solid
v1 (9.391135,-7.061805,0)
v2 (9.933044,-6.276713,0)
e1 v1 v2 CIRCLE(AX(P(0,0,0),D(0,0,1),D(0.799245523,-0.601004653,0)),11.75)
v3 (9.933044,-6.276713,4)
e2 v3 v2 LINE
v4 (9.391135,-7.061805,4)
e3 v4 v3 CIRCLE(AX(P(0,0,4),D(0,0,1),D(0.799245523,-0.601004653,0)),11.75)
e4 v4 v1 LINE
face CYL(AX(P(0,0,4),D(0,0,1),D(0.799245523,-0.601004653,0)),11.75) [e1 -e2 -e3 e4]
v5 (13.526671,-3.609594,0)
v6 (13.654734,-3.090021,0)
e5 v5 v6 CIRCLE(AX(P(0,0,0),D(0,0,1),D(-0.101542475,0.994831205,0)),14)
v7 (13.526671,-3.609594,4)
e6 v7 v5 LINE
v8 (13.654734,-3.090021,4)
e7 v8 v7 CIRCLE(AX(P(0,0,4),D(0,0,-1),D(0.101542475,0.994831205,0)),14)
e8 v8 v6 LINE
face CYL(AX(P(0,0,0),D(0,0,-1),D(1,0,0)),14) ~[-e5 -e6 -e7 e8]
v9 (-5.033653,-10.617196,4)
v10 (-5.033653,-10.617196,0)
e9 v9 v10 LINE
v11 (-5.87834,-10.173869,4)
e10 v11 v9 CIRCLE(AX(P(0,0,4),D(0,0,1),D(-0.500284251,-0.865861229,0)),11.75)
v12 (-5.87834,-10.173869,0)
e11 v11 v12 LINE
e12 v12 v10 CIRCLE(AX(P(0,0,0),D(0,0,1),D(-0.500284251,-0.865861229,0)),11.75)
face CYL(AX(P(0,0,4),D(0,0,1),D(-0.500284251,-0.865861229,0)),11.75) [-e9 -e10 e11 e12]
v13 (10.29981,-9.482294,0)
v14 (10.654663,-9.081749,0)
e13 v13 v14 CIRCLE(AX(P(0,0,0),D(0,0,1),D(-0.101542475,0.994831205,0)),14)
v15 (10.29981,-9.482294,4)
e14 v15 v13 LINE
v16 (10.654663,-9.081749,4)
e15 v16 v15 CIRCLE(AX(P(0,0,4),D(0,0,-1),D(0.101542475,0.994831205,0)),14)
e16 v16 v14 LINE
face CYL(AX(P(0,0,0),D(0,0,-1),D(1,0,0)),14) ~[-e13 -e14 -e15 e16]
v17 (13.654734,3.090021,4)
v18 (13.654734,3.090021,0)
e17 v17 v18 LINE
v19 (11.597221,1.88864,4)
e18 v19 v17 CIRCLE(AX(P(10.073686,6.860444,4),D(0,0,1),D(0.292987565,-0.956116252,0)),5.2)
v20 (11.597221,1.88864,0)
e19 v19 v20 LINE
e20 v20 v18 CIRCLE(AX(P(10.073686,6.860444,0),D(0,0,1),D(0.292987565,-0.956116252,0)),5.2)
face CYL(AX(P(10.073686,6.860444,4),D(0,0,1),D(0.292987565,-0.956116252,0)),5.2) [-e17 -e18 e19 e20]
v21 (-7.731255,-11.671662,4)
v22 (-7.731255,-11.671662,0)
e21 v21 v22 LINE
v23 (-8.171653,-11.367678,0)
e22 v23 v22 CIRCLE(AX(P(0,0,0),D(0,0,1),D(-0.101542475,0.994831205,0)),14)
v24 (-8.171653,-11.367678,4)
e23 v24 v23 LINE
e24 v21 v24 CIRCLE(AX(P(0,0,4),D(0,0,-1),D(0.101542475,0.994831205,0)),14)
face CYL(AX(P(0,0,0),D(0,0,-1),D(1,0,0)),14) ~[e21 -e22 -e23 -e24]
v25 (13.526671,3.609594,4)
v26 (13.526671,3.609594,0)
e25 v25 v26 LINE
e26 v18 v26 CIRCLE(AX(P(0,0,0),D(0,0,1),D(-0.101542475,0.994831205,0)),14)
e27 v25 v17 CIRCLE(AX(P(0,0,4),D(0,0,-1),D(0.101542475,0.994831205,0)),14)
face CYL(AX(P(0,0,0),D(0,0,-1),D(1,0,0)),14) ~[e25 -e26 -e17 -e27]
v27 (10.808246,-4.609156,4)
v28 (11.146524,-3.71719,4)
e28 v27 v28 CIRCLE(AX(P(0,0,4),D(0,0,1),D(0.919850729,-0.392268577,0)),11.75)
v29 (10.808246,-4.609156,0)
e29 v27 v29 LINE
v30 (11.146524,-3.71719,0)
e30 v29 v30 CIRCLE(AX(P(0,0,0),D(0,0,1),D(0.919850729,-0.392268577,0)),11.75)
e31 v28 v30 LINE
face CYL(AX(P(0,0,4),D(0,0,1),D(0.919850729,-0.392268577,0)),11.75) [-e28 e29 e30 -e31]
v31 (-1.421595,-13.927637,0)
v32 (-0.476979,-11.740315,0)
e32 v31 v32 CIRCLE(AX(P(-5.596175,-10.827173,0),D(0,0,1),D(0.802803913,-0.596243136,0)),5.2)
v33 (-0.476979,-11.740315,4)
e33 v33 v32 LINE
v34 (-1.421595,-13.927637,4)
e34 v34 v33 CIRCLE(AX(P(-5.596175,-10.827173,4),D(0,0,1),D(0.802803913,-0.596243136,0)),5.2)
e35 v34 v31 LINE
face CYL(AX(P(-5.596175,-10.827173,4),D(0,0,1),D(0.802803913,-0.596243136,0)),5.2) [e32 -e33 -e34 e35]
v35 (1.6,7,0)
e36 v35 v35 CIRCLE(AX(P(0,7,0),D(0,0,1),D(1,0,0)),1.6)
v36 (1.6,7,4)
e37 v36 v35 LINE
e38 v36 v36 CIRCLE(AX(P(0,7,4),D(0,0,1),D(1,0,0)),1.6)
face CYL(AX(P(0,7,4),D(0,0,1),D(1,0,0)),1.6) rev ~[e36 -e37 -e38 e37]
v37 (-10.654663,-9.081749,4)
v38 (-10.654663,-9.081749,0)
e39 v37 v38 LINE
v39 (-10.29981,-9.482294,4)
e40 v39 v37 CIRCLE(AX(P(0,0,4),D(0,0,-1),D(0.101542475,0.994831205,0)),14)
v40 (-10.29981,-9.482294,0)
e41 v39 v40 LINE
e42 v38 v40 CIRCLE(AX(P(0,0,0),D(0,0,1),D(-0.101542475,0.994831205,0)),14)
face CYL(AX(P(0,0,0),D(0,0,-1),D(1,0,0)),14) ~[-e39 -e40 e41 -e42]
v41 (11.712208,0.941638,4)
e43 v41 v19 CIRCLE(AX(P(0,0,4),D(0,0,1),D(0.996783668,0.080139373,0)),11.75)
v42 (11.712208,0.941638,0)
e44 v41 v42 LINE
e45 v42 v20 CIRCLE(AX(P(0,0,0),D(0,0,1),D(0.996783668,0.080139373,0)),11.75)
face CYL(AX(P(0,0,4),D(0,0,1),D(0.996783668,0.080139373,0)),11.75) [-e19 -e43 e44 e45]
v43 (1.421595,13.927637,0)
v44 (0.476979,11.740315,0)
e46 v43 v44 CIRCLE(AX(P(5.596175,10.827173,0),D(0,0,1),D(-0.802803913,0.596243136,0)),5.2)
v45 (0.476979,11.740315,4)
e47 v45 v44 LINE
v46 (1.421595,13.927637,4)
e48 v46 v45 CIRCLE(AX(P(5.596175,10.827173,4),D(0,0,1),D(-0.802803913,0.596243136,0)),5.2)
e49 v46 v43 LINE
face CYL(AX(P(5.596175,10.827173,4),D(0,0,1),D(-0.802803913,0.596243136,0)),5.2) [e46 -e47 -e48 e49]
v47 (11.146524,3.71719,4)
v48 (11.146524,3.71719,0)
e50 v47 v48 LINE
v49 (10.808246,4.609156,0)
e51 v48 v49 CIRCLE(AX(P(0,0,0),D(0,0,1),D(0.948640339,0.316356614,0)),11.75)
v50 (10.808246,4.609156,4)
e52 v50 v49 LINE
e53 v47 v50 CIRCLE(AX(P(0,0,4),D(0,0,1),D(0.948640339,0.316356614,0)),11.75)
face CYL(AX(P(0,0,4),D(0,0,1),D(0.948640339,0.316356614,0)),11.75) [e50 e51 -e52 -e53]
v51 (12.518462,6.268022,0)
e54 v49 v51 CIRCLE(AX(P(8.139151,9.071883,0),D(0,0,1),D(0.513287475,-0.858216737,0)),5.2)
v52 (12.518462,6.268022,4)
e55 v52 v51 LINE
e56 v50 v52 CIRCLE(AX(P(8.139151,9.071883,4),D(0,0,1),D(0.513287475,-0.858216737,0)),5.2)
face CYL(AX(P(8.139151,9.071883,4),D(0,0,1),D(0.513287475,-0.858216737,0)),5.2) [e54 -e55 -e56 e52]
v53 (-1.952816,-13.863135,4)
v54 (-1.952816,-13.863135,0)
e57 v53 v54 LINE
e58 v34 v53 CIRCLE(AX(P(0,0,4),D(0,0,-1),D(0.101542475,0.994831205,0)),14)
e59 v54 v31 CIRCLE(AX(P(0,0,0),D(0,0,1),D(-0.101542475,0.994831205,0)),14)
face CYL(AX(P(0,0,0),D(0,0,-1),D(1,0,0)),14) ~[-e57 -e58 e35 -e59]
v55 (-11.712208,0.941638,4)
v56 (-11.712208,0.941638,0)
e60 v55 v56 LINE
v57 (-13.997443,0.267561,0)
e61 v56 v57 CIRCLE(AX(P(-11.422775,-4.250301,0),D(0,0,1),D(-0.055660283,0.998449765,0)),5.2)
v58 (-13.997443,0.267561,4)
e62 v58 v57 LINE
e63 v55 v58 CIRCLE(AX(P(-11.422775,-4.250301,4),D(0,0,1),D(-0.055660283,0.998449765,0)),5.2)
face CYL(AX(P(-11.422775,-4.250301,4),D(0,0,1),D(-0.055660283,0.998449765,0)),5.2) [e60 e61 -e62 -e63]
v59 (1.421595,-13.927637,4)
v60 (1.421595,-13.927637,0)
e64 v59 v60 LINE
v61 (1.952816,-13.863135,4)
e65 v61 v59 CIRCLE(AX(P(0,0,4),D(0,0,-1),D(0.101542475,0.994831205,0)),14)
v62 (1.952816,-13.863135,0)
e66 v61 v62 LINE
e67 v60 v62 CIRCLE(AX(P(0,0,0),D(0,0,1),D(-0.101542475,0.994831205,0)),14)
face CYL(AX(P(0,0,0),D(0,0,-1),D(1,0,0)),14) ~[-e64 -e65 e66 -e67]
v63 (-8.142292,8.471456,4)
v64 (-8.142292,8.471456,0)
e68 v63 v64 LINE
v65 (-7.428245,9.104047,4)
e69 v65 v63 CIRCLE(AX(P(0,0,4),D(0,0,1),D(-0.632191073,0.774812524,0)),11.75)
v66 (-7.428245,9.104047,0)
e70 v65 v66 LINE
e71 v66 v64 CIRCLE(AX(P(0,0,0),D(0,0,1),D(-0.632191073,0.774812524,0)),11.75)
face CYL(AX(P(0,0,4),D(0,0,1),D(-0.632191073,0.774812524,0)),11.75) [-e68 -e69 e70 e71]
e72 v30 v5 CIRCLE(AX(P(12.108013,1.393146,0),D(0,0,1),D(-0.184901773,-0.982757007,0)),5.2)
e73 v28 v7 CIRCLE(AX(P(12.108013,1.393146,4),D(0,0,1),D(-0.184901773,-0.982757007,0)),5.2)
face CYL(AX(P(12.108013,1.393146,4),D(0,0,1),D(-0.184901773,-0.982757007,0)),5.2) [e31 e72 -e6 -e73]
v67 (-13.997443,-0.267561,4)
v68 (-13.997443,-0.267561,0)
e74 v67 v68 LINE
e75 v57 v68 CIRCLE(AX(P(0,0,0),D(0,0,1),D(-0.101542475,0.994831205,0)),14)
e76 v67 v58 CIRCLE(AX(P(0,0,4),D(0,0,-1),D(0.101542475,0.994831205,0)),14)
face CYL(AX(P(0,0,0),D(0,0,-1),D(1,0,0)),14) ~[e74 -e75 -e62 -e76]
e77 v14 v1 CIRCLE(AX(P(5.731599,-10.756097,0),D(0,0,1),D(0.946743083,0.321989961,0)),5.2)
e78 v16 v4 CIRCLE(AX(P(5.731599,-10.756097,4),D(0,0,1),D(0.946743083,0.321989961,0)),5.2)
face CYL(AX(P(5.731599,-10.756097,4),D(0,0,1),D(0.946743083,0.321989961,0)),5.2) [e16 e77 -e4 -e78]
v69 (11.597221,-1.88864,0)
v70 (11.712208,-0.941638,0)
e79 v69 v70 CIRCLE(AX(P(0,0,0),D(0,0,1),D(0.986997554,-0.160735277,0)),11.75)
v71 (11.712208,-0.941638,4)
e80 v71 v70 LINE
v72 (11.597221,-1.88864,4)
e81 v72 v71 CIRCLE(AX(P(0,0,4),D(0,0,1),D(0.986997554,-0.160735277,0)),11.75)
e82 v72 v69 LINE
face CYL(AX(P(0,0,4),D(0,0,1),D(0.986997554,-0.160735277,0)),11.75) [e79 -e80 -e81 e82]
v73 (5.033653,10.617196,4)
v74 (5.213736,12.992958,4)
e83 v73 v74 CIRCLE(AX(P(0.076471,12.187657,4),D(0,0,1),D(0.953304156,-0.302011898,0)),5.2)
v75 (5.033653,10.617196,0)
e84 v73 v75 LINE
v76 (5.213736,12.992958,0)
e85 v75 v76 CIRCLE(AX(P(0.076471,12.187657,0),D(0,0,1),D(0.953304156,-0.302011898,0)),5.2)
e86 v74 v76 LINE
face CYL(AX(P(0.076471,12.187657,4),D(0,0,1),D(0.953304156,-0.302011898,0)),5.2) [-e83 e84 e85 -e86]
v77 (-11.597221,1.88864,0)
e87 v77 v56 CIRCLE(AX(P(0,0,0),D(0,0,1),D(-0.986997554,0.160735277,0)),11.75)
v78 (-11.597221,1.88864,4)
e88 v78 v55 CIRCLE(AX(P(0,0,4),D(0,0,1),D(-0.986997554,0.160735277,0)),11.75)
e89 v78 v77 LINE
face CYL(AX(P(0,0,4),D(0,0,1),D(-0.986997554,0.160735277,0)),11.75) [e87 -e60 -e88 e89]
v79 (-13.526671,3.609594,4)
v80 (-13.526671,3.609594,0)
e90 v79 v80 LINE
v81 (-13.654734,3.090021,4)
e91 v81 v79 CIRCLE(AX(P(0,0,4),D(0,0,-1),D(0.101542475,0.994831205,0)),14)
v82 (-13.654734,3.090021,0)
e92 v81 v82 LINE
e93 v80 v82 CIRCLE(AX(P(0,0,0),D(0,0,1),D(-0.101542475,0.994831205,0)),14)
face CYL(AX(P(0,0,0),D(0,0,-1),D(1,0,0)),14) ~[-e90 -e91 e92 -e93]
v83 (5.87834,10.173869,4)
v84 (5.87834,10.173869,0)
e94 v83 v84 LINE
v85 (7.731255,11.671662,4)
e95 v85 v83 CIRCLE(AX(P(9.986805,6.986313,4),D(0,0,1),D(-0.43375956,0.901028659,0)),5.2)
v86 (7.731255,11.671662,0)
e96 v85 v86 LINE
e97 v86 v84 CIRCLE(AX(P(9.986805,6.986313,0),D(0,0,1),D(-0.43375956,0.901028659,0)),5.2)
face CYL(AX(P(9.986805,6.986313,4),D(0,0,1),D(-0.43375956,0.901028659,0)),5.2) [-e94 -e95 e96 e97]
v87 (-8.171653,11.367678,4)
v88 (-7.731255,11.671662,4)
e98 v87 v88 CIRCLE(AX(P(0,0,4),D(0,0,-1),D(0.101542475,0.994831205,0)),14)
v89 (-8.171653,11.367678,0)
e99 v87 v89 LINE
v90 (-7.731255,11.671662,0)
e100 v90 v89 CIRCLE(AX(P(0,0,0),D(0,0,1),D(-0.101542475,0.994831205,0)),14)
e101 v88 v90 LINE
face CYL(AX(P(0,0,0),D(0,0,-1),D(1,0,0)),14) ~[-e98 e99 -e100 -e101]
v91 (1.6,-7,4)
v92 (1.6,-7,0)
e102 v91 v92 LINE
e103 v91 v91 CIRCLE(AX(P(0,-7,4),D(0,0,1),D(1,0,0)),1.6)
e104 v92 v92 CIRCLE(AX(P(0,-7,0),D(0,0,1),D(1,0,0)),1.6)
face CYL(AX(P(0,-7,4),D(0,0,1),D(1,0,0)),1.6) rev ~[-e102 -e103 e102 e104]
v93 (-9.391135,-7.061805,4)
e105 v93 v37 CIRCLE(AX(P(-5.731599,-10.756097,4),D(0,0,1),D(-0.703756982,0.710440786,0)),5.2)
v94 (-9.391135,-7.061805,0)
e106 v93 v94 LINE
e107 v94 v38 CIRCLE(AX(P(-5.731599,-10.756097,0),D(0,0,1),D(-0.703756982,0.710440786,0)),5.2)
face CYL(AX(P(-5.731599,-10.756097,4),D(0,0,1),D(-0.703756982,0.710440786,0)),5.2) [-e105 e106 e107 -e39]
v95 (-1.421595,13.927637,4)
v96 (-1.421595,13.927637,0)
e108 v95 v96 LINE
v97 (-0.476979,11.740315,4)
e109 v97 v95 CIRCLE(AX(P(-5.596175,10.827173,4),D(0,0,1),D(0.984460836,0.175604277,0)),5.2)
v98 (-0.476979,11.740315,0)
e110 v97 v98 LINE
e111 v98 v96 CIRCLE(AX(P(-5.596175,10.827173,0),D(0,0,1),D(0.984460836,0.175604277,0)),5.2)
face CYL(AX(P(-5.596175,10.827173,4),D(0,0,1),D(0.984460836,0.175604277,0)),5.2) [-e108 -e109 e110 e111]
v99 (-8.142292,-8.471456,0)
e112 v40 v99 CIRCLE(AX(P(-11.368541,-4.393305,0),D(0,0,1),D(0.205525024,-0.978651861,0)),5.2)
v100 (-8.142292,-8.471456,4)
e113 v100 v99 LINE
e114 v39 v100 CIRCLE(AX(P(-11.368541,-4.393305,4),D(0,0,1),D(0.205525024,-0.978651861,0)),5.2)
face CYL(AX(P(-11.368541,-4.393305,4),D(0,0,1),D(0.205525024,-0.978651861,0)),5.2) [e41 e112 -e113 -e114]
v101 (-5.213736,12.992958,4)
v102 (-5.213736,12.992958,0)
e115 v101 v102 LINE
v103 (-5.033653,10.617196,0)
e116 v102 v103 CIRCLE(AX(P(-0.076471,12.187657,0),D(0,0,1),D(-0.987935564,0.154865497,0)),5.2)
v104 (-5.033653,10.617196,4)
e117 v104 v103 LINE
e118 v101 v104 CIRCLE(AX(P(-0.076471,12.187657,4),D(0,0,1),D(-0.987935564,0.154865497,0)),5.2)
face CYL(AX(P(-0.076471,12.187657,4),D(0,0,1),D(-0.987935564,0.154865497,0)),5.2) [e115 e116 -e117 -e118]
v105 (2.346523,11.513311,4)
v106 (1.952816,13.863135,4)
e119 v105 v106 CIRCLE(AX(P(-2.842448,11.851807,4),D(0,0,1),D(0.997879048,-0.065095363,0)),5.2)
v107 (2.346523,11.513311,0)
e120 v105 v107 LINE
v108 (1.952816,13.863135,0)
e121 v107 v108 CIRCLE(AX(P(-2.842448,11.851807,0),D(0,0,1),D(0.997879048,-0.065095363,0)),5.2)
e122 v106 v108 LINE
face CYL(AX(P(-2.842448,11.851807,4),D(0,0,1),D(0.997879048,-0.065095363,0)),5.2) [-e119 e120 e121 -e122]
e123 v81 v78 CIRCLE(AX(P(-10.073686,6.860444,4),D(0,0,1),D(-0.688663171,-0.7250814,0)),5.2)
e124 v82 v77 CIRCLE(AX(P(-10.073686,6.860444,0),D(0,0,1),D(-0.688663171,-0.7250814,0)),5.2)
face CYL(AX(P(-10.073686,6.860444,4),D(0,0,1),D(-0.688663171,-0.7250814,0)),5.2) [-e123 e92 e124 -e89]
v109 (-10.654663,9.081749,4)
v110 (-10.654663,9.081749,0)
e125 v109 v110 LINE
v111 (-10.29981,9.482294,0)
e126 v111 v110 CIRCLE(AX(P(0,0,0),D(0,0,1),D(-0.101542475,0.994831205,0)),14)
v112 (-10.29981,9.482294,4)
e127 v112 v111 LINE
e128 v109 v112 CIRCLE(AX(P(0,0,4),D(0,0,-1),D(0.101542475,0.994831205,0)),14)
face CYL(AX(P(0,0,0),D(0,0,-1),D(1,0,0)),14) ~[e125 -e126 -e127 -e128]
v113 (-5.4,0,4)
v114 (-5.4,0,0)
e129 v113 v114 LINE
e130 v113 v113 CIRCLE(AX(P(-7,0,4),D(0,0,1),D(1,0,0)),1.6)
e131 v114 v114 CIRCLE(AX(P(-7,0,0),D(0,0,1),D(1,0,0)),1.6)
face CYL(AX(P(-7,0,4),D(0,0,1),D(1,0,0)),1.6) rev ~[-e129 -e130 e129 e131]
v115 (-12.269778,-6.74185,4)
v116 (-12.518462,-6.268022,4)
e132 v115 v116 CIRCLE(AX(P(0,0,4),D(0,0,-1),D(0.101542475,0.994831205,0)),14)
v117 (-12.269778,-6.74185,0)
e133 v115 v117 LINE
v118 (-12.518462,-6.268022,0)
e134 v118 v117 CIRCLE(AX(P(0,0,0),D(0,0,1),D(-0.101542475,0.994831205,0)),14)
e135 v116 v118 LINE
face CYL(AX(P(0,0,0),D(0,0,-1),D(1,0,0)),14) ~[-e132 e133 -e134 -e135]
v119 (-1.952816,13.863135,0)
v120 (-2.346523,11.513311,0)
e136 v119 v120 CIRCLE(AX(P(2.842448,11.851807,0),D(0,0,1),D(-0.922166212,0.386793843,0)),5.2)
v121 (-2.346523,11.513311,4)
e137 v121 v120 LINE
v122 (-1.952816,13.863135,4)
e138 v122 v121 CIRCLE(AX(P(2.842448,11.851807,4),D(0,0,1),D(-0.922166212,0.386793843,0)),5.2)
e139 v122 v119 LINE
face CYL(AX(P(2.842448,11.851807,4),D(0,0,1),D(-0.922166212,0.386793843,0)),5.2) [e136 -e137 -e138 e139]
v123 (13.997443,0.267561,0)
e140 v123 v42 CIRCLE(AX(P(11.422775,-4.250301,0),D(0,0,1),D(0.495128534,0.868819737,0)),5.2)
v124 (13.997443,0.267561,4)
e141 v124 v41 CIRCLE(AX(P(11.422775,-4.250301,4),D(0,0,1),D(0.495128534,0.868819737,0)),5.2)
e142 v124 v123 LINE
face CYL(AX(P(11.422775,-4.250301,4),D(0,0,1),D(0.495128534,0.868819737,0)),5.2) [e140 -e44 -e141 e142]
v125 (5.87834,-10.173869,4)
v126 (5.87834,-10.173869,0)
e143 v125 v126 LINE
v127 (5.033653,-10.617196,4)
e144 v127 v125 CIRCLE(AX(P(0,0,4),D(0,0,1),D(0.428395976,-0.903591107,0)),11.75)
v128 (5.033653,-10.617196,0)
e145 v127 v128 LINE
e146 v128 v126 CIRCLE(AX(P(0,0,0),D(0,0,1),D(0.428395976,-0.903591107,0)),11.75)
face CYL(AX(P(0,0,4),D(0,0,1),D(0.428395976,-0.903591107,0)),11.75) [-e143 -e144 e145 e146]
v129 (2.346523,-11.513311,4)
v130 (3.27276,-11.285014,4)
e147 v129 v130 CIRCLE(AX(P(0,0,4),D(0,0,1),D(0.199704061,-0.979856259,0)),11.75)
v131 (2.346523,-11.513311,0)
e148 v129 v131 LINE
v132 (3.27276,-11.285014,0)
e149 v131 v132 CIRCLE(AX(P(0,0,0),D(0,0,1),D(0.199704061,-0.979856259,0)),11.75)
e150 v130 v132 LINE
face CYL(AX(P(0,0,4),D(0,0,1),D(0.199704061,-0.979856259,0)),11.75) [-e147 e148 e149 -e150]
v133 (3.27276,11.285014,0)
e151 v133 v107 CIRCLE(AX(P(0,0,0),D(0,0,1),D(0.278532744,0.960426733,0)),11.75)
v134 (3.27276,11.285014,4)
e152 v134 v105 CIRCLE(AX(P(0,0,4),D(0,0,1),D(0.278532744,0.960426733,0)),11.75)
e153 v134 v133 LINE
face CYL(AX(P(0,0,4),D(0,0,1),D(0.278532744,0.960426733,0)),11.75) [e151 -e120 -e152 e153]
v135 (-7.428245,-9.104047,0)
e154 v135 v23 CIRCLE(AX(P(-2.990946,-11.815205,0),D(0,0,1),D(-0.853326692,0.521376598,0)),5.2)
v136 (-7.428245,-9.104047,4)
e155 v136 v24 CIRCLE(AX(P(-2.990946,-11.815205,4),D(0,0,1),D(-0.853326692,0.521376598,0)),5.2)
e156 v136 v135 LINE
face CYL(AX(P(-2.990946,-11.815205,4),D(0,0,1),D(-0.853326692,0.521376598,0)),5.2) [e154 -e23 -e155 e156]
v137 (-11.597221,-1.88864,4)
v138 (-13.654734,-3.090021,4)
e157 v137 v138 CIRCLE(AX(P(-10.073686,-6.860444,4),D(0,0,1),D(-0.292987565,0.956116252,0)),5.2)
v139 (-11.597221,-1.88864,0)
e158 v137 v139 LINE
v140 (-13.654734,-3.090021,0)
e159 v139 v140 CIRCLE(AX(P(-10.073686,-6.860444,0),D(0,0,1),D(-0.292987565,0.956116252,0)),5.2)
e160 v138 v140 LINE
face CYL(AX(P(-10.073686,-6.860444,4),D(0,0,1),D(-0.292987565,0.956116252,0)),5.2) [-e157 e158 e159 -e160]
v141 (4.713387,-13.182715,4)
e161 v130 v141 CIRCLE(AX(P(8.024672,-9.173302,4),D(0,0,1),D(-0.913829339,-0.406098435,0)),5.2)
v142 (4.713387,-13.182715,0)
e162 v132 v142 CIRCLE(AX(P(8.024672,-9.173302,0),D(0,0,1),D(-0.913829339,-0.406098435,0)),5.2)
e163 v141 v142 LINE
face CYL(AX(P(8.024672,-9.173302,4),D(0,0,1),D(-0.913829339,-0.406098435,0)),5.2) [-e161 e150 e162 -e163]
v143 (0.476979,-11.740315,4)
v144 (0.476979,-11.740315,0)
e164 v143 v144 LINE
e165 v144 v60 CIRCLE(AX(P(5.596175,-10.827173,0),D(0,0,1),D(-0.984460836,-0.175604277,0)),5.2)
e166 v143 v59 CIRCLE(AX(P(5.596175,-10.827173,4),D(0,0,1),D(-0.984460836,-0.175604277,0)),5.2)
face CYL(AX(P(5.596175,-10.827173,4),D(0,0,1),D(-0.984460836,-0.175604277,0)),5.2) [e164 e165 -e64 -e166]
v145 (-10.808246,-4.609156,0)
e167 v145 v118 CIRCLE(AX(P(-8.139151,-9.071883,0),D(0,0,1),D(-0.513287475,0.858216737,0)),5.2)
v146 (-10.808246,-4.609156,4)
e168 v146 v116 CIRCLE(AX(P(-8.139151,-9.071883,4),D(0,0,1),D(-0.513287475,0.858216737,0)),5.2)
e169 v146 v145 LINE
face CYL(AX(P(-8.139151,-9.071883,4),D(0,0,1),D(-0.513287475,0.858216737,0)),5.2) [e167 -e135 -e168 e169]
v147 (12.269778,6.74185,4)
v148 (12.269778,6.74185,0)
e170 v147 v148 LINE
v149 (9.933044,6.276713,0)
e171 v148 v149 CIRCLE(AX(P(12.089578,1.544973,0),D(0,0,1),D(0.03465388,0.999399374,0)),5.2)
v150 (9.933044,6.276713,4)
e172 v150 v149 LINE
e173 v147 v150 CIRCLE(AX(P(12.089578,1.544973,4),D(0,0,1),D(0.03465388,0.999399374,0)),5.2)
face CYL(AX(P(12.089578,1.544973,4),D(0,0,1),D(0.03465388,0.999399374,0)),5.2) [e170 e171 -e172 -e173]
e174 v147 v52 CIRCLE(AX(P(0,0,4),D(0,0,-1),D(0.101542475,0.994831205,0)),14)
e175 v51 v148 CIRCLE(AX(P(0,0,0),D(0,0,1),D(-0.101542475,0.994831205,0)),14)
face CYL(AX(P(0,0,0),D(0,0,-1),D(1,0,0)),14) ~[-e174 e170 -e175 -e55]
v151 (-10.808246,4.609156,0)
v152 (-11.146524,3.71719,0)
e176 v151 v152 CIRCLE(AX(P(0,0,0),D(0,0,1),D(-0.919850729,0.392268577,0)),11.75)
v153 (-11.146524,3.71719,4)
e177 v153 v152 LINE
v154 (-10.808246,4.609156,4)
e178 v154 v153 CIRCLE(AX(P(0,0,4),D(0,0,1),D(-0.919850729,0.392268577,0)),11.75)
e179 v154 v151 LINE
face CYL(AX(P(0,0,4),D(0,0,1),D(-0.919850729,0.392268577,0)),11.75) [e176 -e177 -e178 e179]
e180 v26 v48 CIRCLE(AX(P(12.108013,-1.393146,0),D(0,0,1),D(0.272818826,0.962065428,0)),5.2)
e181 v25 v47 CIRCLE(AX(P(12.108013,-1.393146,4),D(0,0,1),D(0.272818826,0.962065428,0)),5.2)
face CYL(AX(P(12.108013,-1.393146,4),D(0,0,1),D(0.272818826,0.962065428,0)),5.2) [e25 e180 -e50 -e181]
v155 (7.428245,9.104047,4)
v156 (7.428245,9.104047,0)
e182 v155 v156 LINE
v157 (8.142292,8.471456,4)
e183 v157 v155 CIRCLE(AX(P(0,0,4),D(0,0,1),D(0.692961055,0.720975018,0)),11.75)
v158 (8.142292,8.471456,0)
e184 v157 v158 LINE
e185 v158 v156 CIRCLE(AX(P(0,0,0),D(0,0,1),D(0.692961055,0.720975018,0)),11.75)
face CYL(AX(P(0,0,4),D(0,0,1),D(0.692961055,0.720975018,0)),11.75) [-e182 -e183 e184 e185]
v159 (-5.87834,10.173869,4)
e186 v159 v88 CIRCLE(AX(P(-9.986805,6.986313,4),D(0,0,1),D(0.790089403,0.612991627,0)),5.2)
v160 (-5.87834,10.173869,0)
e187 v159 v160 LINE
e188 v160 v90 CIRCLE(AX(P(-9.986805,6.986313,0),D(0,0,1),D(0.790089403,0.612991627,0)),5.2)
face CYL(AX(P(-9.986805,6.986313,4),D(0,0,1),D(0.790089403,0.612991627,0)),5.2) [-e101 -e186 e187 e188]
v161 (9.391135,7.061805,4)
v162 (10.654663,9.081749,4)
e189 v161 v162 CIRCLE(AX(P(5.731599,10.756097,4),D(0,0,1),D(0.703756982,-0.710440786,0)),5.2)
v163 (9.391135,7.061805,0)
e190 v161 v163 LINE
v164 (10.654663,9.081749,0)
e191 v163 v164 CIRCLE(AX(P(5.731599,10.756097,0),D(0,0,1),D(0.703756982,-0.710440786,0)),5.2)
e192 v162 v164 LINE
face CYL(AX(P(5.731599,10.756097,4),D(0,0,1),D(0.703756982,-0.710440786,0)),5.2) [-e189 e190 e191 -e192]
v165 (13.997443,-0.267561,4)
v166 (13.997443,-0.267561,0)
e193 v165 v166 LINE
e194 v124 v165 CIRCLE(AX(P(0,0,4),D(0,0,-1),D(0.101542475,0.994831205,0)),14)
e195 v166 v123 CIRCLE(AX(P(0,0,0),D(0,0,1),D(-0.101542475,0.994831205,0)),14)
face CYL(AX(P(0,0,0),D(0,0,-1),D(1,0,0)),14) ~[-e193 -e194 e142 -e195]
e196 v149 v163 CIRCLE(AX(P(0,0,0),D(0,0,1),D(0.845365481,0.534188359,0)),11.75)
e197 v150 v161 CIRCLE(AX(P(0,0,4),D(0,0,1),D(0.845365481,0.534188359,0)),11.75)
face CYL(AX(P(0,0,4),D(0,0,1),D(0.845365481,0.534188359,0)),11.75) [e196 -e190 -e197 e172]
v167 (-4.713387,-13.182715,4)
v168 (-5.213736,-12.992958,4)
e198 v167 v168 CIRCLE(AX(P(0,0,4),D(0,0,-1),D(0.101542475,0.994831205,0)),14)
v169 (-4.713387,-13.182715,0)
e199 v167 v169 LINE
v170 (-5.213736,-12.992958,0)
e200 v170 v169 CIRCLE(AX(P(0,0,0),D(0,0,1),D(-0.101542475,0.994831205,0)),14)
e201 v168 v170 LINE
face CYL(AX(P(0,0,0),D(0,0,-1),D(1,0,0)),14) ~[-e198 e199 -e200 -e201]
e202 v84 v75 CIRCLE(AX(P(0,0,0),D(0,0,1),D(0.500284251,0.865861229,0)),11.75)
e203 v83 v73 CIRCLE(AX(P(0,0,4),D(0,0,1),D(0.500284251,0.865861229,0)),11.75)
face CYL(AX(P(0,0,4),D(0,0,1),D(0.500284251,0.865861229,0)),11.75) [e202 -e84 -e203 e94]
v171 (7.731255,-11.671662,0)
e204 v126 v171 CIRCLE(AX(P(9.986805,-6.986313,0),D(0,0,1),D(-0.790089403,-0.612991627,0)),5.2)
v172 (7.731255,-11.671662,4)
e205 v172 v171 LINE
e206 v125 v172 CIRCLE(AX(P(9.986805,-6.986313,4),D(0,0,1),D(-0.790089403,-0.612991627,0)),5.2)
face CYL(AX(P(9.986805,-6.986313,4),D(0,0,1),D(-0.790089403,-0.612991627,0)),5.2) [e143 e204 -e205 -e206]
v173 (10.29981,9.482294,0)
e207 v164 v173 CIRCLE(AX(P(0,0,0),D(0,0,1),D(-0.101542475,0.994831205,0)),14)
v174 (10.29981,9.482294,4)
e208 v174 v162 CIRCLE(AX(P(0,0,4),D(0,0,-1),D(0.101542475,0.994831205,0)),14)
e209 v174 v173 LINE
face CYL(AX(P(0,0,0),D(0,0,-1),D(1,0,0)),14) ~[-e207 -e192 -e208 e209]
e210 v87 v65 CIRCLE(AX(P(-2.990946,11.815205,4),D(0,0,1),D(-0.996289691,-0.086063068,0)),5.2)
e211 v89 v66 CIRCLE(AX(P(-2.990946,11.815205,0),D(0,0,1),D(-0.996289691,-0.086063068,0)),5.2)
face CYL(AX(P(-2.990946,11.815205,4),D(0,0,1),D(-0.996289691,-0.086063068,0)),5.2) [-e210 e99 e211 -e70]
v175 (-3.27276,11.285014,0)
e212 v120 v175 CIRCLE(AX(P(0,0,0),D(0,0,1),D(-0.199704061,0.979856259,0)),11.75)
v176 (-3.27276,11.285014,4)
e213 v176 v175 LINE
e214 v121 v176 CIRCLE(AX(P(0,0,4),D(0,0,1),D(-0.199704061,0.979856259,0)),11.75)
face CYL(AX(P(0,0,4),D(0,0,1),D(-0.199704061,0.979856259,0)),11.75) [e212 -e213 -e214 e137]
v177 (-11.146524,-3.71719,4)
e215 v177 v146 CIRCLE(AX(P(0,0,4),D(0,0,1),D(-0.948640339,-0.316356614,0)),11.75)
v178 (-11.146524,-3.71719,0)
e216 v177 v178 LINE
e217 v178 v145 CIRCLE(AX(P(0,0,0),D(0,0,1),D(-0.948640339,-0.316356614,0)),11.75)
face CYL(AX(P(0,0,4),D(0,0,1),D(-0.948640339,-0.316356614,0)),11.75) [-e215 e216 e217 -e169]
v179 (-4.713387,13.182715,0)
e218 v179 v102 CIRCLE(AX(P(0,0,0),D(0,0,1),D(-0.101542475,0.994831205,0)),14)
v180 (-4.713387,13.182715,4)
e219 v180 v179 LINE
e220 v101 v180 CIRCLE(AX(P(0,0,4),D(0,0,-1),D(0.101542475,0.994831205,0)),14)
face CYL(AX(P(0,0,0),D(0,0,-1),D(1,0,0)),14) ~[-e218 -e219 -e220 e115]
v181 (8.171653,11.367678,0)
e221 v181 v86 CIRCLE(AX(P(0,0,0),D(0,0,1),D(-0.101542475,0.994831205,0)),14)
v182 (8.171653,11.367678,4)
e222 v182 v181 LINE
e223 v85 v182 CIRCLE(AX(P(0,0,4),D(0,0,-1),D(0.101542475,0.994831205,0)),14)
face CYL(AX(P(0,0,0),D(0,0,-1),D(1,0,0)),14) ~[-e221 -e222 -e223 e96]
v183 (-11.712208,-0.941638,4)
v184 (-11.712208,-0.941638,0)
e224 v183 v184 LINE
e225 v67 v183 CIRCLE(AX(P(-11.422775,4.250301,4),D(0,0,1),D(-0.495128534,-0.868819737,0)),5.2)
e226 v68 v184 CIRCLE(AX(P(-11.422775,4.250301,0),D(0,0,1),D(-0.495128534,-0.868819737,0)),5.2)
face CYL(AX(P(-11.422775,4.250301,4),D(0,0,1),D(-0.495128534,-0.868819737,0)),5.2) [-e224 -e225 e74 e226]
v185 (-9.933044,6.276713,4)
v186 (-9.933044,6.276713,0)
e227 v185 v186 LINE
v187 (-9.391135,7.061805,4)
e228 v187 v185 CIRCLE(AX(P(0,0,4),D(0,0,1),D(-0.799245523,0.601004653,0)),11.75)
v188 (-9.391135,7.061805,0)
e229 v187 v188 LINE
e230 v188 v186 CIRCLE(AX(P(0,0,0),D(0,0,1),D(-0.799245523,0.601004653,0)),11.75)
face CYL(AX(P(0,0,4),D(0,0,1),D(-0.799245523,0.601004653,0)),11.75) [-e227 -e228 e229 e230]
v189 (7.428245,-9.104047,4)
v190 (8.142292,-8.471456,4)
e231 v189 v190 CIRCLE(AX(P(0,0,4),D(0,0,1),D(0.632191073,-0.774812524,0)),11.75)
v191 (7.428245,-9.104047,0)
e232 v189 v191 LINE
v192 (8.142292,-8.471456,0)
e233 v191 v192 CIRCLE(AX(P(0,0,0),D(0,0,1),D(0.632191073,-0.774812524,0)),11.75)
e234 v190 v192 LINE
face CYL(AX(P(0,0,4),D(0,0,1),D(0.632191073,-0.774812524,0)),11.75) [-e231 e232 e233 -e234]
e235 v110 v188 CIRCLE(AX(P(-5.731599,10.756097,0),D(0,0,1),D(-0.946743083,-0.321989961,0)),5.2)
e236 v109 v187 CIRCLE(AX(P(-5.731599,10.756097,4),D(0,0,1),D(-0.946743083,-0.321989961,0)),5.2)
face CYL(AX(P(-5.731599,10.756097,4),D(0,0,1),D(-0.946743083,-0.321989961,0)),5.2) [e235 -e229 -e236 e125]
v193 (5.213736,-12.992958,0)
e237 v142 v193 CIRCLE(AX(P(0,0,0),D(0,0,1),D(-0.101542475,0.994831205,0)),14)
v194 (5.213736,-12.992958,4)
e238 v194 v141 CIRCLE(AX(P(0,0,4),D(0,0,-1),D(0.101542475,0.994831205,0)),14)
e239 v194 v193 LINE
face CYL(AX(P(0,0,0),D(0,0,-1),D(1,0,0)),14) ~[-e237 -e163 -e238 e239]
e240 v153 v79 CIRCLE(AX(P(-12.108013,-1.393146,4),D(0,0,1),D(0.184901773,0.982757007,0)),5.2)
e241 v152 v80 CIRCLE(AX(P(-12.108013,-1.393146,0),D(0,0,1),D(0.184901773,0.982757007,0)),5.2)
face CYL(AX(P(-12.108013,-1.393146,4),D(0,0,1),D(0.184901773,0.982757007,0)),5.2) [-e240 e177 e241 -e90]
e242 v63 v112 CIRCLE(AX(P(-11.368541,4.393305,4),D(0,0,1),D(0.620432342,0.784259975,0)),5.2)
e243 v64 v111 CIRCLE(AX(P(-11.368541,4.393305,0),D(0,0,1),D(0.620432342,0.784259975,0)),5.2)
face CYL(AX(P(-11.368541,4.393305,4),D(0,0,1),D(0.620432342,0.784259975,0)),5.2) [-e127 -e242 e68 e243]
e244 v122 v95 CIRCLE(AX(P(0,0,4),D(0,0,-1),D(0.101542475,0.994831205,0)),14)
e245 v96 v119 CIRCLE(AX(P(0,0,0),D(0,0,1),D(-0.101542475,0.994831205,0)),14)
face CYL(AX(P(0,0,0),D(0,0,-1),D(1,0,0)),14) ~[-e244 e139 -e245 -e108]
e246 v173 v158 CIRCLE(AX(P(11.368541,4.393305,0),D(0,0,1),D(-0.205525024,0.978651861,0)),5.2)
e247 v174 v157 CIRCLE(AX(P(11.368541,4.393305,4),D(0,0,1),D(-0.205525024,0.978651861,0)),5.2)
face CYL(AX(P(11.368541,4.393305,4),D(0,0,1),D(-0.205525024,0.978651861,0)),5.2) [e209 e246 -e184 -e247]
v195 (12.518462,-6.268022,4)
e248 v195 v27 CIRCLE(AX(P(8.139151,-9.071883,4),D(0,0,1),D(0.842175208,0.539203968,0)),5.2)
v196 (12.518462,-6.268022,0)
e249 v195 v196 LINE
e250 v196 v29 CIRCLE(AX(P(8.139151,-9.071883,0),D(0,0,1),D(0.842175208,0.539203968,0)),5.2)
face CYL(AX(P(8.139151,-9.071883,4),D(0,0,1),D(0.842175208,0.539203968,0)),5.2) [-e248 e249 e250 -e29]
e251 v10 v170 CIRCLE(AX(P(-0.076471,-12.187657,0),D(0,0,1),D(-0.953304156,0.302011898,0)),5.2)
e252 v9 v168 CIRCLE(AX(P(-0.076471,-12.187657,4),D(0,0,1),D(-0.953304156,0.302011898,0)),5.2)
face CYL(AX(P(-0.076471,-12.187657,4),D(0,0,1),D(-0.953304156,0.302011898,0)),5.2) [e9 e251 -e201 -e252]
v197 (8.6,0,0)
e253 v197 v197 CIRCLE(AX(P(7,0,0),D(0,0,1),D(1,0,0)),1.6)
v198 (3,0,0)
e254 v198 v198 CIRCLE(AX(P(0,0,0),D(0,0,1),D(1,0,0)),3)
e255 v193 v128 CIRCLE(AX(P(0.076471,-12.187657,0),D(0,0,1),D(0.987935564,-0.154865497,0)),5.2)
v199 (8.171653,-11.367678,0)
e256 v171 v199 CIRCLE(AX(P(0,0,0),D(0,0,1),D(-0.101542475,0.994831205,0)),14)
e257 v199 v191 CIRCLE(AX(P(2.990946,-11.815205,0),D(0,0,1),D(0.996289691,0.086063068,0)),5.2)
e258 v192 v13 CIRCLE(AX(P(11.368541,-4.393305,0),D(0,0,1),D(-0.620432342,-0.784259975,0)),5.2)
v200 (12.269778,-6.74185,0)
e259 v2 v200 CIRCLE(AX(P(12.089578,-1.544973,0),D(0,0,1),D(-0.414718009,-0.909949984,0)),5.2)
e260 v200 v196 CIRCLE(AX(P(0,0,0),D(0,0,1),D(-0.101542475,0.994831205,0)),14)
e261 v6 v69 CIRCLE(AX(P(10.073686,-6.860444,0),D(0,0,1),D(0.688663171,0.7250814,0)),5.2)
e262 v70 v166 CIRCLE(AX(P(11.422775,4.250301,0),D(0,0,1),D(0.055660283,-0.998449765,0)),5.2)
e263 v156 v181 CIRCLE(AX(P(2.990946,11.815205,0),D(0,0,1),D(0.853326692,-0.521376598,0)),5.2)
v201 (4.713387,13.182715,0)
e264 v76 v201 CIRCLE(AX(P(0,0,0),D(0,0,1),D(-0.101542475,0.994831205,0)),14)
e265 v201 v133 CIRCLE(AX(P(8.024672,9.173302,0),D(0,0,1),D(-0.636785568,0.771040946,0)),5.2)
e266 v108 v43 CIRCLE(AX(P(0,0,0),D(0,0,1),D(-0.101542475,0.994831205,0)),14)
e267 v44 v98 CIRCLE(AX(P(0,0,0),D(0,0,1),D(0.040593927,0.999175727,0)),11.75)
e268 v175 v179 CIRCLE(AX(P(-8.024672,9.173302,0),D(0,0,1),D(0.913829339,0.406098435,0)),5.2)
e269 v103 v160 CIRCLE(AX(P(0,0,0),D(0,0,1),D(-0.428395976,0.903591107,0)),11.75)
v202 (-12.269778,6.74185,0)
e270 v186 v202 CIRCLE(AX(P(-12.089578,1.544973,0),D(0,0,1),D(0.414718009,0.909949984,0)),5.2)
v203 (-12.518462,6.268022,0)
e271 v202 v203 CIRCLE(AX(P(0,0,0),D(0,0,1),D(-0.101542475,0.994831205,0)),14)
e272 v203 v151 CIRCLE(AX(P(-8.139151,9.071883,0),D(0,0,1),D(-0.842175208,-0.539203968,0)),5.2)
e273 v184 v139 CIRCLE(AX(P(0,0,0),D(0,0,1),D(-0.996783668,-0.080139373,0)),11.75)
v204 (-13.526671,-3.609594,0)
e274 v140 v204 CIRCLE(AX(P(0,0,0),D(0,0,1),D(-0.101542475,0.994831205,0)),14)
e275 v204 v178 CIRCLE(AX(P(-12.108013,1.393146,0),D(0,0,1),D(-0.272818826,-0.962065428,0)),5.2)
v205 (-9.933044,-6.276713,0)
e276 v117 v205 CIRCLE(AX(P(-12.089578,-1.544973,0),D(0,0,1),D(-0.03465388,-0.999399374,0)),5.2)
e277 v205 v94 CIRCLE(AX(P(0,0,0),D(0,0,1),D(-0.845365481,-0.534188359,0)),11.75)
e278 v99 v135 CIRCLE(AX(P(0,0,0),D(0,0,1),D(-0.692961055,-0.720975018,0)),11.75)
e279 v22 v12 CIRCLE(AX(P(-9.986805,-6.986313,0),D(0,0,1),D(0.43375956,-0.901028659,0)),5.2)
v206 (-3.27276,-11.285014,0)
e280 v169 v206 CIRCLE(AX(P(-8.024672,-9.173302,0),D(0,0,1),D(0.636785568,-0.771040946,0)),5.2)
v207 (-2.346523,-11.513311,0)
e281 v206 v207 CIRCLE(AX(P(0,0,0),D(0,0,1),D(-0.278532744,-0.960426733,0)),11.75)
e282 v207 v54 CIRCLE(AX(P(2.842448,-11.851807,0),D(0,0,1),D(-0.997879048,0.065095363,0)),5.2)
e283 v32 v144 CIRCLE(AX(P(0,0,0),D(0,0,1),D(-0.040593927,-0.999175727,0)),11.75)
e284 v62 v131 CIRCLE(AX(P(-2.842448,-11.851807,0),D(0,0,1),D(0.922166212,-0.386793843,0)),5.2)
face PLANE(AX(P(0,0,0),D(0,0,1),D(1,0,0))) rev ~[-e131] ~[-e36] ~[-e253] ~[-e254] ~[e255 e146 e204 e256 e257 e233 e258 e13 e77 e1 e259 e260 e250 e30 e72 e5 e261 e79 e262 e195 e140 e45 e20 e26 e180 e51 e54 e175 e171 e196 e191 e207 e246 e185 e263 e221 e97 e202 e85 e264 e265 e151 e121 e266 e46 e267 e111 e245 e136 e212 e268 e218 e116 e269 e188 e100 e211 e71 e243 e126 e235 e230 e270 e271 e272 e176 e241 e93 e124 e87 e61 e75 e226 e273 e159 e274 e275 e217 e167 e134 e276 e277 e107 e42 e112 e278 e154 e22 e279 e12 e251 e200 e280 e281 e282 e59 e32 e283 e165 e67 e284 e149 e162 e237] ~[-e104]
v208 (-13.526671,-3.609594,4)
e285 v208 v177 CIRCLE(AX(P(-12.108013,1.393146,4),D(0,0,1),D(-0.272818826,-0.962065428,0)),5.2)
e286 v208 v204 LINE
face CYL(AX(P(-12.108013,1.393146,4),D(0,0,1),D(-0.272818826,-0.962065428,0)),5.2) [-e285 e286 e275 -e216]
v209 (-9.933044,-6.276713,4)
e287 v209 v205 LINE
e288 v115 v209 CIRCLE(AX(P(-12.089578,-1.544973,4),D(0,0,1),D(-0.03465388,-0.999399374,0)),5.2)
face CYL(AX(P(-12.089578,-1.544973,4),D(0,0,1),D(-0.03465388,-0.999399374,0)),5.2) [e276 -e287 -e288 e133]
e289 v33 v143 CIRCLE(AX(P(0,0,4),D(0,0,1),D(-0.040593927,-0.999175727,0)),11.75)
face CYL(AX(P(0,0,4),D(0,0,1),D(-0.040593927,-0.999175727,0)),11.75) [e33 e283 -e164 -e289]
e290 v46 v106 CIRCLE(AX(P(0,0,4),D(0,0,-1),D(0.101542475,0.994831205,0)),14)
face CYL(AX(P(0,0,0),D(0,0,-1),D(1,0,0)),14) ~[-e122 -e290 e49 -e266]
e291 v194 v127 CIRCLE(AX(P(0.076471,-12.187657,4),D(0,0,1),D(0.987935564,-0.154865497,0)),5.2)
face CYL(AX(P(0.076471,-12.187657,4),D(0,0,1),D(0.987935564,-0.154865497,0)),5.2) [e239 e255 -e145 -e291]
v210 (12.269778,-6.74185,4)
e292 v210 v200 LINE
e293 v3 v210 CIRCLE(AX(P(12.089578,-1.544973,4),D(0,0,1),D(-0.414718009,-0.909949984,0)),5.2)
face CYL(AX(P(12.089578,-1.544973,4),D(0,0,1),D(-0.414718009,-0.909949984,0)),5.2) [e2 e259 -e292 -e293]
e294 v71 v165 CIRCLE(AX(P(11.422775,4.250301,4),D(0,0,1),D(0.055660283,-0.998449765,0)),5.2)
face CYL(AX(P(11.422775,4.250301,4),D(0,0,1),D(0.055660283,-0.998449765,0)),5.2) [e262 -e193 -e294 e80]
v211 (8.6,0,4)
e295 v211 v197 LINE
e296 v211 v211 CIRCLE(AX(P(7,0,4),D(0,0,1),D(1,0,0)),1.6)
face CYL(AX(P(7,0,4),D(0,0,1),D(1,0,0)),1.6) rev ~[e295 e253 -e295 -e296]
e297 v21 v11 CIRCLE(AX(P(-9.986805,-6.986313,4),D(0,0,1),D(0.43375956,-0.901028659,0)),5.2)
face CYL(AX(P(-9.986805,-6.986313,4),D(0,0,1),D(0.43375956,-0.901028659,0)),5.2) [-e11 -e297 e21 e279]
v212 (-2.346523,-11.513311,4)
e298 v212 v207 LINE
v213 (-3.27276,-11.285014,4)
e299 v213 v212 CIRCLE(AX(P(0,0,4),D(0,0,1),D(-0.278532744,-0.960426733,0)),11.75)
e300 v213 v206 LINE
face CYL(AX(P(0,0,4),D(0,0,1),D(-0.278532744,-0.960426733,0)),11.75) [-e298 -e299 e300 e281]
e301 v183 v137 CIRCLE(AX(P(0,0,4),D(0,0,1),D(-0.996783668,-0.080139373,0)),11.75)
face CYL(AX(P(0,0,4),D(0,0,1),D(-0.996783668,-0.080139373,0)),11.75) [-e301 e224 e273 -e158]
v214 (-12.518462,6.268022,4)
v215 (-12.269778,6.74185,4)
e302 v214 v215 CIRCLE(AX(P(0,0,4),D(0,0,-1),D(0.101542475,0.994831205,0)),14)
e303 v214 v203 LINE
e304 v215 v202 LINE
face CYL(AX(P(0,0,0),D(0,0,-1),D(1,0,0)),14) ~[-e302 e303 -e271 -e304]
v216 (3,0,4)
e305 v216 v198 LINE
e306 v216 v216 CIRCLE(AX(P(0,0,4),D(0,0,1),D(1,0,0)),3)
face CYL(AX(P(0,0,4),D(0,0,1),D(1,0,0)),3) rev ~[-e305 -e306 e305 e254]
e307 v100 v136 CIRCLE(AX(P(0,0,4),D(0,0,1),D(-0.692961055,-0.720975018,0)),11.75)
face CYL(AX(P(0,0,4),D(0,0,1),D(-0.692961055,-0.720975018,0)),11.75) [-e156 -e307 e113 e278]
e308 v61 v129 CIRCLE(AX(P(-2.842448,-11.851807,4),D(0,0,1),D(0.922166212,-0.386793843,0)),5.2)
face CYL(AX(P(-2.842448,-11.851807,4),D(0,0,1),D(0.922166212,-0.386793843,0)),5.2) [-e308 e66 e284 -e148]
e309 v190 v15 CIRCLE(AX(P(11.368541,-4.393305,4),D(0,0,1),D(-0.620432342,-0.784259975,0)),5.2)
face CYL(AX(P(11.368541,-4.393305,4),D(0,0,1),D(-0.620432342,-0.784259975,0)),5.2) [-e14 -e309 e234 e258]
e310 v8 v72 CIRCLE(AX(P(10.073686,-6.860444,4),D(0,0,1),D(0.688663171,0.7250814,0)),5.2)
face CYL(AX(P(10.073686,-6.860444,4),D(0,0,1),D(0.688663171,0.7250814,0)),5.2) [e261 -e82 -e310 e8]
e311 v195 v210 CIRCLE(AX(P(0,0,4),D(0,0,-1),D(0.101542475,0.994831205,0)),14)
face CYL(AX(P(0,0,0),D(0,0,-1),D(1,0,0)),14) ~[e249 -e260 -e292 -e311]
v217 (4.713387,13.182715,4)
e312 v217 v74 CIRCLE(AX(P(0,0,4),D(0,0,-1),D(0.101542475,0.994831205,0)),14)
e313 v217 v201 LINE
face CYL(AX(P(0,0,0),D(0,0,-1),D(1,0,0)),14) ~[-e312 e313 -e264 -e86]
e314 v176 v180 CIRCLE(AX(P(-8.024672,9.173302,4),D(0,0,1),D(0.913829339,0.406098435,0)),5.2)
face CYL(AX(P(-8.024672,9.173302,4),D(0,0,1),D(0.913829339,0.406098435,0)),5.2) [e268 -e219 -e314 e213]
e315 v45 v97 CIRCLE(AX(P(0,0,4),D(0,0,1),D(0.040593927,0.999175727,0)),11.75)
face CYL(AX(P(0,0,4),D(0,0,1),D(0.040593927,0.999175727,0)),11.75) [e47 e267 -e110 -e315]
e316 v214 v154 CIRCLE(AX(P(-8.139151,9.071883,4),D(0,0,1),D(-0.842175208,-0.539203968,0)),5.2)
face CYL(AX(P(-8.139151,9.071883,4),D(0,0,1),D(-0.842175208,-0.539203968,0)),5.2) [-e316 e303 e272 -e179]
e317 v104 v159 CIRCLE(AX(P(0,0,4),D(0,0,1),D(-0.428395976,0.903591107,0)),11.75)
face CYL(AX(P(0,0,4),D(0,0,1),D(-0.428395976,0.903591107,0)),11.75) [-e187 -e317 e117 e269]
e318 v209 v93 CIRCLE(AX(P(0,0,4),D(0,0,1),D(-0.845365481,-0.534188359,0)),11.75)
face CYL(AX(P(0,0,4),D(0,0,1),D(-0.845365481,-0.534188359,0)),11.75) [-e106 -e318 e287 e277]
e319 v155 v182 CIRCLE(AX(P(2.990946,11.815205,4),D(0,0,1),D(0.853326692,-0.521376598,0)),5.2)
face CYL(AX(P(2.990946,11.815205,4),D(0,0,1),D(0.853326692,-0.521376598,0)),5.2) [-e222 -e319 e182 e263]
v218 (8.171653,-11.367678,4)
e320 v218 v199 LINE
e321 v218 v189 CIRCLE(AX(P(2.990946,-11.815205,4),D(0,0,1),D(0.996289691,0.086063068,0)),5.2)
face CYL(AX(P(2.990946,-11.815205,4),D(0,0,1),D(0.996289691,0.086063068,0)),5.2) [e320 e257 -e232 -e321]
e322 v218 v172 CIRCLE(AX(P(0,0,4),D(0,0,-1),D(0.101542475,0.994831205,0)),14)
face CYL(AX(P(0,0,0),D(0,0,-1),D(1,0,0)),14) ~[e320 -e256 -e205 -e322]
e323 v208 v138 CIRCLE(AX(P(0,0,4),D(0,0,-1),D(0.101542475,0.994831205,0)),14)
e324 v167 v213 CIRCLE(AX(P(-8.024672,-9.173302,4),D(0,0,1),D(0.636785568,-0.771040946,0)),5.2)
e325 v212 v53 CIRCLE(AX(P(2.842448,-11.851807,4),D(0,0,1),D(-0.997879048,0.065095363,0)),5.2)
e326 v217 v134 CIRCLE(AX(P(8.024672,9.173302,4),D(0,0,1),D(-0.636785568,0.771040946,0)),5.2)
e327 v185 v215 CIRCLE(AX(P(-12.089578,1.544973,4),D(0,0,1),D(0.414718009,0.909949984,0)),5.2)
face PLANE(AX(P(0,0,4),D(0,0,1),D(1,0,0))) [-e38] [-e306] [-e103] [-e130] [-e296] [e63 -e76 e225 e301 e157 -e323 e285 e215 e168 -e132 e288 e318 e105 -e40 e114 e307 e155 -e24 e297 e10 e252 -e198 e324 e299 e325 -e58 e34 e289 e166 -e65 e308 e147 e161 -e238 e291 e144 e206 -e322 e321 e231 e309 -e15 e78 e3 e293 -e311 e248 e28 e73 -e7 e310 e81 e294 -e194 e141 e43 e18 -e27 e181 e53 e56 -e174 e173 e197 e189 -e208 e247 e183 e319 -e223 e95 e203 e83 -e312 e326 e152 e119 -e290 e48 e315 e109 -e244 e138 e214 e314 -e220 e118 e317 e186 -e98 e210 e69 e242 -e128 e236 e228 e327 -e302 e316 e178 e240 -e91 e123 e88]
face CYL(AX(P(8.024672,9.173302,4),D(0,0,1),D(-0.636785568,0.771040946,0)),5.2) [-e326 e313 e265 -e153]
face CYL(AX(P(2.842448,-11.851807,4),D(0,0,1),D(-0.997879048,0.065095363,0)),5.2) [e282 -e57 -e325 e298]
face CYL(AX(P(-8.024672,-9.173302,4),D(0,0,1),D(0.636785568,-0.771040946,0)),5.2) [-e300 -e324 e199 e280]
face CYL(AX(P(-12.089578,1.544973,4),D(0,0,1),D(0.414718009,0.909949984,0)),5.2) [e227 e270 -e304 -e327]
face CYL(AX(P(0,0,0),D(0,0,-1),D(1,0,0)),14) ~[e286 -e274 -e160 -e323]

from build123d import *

# Parameters (mm, degrees)
SKETCH_1_R               = 14
EXTRUDE_1_DEPTH          = 4
CUT_EXTRUDE_1_DEPTH      = 4
PATTERN_CIRCULAR_1_COUNT = 26
CUT_EXTRUDE_2_REACH      = 6
SKETCH_3_R               = 3
SKETCH_3_R_2             = 1.6


with BuildPart() as part:
    # 草圖1 → 填料-伸長1 (new body)
    with BuildSketch(Plane.XY):
        Circle(SKETCH_1_R)
    extrude(amount=EXTRUDE_1_DEPTH)

    # 草圖2 → 除料-伸長1 (cut)
    with BuildSketch(Plane.XY.offset(4)):
        with BuildLine():
            ThreePointArc((-1.421594657, 13.927636865), (0, 14), (1.421594657, 13.927636865))
            ThreePointArc((1.421594657, 13.927636865), (0.822322703, 12.888806427), (0.476978653, 11.74031479))
            ThreePointArc((0.476978653, 11.74031479), (0, 11.75), (-0.476978653, 11.74031479))
            ThreePointArc((-0.476978653, 11.74031479), (-0.822322703, 12.888806427), (-1.421594657, 13.927636865))
        make_face()
    cut_extrude_1 = extrude(amount=-CUT_EXTRUDE_1_DEPTH, mode=Mode.SUBTRACT)

    # 環狀複製排列1: 除料-伸長1 ×26 about axis
    pattern_circular_1_axis = Axis((0, 0, 0), (0, 0, 1))
    for i in range(1, PATTERN_CIRCULAR_1_COUNT):
        add(cut_extrude_1.rotate(pattern_circular_1_axis, i * 360 / PATTERN_CIRCULAR_1_COUNT), mode=Mode.SUBTRACT)

    # 草圖3 → 除料-伸長2 (cut, up to next)
    with BuildSketch(Plane.XY.offset(4), mode=Mode.PRIVATE) as cut_extrude_2_sk1:
        Circle(SKETCH_3_R)
    cut_extrude_2_tool1 = extrude(cut_extrude_2_sk1.sketch, amount=-CUT_EXTRUDE_2_REACH, mode=Mode.PRIVATE) & part.part
    add(cut_extrude_2_tool1.solids().sort_by_distance((0, 0, 4))[0], mode=Mode.SUBTRACT)
    # 草圖3 → 除料-伸長2 (cut, up to next)
    with BuildSketch(Plane.XY.offset(4), mode=Mode.PRIVATE) as cut_extrude_2_sk2:
        with Locations((0, 7)):
            Circle(SKETCH_3_R_2)
    cut_extrude_2_tool2 = extrude(cut_extrude_2_sk2.sketch, amount=-CUT_EXTRUDE_2_REACH, mode=Mode.PRIVATE) & part.part
    add(cut_extrude_2_tool2.solids().sort_by_distance((0, 7, 4))[0], mode=Mode.SUBTRACT)
    # 草圖3 → 除料-伸長2 (cut, up to next)
    with BuildSketch(Plane.XY.offset(4), mode=Mode.PRIVATE) as cut_extrude_2_sk3:
        with Locations((7, 0)):
            Circle(SKETCH_3_R_2)
    cut_extrude_2_tool3 = extrude(cut_extrude_2_sk3.sketch, amount=-CUT_EXTRUDE_2_REACH, mode=Mode.PRIVATE) & part.part
    add(cut_extrude_2_tool3.solids().sort_by_distance((7, 0, 4))[0], mode=Mode.SUBTRACT)
    # 草圖3 → 除料-伸長2 (cut, up to next)
    with BuildSketch(Plane.XY.offset(4), mode=Mode.PRIVATE) as cut_extrude_2_sk4:
        with Locations((0, -7)):
            Circle(SKETCH_3_R_2)
    cut_extrude_2_tool4 = extrude(cut_extrude_2_sk4.sketch, amount=-CUT_EXTRUDE_2_REACH, mode=Mode.PRIVATE) & part.part
    add(cut_extrude_2_tool4.solids().sort_by_distance((0, -7, 4))[0], mode=Mode.SUBTRACT)
    # 草圖3 → 除料-伸長2 (cut, up to next)
    with BuildSketch(Plane.XY.offset(4), mode=Mode.PRIVATE) as cut_extrude_2_sk5:
        with Locations((-7, 0)):
            Circle(SKETCH_3_R_2)
    cut_extrude_2_tool5 = extrude(cut_extrude_2_sk5.sketch, amount=-CUT_EXTRUDE_2_REACH, mode=Mode.PRIVATE) & part.part
    add(cut_extrude_2_tool5.solids().sort_by_distance((-7, 0, 4))[0], mode=Mode.SUBTRACT)


solid = part.part
